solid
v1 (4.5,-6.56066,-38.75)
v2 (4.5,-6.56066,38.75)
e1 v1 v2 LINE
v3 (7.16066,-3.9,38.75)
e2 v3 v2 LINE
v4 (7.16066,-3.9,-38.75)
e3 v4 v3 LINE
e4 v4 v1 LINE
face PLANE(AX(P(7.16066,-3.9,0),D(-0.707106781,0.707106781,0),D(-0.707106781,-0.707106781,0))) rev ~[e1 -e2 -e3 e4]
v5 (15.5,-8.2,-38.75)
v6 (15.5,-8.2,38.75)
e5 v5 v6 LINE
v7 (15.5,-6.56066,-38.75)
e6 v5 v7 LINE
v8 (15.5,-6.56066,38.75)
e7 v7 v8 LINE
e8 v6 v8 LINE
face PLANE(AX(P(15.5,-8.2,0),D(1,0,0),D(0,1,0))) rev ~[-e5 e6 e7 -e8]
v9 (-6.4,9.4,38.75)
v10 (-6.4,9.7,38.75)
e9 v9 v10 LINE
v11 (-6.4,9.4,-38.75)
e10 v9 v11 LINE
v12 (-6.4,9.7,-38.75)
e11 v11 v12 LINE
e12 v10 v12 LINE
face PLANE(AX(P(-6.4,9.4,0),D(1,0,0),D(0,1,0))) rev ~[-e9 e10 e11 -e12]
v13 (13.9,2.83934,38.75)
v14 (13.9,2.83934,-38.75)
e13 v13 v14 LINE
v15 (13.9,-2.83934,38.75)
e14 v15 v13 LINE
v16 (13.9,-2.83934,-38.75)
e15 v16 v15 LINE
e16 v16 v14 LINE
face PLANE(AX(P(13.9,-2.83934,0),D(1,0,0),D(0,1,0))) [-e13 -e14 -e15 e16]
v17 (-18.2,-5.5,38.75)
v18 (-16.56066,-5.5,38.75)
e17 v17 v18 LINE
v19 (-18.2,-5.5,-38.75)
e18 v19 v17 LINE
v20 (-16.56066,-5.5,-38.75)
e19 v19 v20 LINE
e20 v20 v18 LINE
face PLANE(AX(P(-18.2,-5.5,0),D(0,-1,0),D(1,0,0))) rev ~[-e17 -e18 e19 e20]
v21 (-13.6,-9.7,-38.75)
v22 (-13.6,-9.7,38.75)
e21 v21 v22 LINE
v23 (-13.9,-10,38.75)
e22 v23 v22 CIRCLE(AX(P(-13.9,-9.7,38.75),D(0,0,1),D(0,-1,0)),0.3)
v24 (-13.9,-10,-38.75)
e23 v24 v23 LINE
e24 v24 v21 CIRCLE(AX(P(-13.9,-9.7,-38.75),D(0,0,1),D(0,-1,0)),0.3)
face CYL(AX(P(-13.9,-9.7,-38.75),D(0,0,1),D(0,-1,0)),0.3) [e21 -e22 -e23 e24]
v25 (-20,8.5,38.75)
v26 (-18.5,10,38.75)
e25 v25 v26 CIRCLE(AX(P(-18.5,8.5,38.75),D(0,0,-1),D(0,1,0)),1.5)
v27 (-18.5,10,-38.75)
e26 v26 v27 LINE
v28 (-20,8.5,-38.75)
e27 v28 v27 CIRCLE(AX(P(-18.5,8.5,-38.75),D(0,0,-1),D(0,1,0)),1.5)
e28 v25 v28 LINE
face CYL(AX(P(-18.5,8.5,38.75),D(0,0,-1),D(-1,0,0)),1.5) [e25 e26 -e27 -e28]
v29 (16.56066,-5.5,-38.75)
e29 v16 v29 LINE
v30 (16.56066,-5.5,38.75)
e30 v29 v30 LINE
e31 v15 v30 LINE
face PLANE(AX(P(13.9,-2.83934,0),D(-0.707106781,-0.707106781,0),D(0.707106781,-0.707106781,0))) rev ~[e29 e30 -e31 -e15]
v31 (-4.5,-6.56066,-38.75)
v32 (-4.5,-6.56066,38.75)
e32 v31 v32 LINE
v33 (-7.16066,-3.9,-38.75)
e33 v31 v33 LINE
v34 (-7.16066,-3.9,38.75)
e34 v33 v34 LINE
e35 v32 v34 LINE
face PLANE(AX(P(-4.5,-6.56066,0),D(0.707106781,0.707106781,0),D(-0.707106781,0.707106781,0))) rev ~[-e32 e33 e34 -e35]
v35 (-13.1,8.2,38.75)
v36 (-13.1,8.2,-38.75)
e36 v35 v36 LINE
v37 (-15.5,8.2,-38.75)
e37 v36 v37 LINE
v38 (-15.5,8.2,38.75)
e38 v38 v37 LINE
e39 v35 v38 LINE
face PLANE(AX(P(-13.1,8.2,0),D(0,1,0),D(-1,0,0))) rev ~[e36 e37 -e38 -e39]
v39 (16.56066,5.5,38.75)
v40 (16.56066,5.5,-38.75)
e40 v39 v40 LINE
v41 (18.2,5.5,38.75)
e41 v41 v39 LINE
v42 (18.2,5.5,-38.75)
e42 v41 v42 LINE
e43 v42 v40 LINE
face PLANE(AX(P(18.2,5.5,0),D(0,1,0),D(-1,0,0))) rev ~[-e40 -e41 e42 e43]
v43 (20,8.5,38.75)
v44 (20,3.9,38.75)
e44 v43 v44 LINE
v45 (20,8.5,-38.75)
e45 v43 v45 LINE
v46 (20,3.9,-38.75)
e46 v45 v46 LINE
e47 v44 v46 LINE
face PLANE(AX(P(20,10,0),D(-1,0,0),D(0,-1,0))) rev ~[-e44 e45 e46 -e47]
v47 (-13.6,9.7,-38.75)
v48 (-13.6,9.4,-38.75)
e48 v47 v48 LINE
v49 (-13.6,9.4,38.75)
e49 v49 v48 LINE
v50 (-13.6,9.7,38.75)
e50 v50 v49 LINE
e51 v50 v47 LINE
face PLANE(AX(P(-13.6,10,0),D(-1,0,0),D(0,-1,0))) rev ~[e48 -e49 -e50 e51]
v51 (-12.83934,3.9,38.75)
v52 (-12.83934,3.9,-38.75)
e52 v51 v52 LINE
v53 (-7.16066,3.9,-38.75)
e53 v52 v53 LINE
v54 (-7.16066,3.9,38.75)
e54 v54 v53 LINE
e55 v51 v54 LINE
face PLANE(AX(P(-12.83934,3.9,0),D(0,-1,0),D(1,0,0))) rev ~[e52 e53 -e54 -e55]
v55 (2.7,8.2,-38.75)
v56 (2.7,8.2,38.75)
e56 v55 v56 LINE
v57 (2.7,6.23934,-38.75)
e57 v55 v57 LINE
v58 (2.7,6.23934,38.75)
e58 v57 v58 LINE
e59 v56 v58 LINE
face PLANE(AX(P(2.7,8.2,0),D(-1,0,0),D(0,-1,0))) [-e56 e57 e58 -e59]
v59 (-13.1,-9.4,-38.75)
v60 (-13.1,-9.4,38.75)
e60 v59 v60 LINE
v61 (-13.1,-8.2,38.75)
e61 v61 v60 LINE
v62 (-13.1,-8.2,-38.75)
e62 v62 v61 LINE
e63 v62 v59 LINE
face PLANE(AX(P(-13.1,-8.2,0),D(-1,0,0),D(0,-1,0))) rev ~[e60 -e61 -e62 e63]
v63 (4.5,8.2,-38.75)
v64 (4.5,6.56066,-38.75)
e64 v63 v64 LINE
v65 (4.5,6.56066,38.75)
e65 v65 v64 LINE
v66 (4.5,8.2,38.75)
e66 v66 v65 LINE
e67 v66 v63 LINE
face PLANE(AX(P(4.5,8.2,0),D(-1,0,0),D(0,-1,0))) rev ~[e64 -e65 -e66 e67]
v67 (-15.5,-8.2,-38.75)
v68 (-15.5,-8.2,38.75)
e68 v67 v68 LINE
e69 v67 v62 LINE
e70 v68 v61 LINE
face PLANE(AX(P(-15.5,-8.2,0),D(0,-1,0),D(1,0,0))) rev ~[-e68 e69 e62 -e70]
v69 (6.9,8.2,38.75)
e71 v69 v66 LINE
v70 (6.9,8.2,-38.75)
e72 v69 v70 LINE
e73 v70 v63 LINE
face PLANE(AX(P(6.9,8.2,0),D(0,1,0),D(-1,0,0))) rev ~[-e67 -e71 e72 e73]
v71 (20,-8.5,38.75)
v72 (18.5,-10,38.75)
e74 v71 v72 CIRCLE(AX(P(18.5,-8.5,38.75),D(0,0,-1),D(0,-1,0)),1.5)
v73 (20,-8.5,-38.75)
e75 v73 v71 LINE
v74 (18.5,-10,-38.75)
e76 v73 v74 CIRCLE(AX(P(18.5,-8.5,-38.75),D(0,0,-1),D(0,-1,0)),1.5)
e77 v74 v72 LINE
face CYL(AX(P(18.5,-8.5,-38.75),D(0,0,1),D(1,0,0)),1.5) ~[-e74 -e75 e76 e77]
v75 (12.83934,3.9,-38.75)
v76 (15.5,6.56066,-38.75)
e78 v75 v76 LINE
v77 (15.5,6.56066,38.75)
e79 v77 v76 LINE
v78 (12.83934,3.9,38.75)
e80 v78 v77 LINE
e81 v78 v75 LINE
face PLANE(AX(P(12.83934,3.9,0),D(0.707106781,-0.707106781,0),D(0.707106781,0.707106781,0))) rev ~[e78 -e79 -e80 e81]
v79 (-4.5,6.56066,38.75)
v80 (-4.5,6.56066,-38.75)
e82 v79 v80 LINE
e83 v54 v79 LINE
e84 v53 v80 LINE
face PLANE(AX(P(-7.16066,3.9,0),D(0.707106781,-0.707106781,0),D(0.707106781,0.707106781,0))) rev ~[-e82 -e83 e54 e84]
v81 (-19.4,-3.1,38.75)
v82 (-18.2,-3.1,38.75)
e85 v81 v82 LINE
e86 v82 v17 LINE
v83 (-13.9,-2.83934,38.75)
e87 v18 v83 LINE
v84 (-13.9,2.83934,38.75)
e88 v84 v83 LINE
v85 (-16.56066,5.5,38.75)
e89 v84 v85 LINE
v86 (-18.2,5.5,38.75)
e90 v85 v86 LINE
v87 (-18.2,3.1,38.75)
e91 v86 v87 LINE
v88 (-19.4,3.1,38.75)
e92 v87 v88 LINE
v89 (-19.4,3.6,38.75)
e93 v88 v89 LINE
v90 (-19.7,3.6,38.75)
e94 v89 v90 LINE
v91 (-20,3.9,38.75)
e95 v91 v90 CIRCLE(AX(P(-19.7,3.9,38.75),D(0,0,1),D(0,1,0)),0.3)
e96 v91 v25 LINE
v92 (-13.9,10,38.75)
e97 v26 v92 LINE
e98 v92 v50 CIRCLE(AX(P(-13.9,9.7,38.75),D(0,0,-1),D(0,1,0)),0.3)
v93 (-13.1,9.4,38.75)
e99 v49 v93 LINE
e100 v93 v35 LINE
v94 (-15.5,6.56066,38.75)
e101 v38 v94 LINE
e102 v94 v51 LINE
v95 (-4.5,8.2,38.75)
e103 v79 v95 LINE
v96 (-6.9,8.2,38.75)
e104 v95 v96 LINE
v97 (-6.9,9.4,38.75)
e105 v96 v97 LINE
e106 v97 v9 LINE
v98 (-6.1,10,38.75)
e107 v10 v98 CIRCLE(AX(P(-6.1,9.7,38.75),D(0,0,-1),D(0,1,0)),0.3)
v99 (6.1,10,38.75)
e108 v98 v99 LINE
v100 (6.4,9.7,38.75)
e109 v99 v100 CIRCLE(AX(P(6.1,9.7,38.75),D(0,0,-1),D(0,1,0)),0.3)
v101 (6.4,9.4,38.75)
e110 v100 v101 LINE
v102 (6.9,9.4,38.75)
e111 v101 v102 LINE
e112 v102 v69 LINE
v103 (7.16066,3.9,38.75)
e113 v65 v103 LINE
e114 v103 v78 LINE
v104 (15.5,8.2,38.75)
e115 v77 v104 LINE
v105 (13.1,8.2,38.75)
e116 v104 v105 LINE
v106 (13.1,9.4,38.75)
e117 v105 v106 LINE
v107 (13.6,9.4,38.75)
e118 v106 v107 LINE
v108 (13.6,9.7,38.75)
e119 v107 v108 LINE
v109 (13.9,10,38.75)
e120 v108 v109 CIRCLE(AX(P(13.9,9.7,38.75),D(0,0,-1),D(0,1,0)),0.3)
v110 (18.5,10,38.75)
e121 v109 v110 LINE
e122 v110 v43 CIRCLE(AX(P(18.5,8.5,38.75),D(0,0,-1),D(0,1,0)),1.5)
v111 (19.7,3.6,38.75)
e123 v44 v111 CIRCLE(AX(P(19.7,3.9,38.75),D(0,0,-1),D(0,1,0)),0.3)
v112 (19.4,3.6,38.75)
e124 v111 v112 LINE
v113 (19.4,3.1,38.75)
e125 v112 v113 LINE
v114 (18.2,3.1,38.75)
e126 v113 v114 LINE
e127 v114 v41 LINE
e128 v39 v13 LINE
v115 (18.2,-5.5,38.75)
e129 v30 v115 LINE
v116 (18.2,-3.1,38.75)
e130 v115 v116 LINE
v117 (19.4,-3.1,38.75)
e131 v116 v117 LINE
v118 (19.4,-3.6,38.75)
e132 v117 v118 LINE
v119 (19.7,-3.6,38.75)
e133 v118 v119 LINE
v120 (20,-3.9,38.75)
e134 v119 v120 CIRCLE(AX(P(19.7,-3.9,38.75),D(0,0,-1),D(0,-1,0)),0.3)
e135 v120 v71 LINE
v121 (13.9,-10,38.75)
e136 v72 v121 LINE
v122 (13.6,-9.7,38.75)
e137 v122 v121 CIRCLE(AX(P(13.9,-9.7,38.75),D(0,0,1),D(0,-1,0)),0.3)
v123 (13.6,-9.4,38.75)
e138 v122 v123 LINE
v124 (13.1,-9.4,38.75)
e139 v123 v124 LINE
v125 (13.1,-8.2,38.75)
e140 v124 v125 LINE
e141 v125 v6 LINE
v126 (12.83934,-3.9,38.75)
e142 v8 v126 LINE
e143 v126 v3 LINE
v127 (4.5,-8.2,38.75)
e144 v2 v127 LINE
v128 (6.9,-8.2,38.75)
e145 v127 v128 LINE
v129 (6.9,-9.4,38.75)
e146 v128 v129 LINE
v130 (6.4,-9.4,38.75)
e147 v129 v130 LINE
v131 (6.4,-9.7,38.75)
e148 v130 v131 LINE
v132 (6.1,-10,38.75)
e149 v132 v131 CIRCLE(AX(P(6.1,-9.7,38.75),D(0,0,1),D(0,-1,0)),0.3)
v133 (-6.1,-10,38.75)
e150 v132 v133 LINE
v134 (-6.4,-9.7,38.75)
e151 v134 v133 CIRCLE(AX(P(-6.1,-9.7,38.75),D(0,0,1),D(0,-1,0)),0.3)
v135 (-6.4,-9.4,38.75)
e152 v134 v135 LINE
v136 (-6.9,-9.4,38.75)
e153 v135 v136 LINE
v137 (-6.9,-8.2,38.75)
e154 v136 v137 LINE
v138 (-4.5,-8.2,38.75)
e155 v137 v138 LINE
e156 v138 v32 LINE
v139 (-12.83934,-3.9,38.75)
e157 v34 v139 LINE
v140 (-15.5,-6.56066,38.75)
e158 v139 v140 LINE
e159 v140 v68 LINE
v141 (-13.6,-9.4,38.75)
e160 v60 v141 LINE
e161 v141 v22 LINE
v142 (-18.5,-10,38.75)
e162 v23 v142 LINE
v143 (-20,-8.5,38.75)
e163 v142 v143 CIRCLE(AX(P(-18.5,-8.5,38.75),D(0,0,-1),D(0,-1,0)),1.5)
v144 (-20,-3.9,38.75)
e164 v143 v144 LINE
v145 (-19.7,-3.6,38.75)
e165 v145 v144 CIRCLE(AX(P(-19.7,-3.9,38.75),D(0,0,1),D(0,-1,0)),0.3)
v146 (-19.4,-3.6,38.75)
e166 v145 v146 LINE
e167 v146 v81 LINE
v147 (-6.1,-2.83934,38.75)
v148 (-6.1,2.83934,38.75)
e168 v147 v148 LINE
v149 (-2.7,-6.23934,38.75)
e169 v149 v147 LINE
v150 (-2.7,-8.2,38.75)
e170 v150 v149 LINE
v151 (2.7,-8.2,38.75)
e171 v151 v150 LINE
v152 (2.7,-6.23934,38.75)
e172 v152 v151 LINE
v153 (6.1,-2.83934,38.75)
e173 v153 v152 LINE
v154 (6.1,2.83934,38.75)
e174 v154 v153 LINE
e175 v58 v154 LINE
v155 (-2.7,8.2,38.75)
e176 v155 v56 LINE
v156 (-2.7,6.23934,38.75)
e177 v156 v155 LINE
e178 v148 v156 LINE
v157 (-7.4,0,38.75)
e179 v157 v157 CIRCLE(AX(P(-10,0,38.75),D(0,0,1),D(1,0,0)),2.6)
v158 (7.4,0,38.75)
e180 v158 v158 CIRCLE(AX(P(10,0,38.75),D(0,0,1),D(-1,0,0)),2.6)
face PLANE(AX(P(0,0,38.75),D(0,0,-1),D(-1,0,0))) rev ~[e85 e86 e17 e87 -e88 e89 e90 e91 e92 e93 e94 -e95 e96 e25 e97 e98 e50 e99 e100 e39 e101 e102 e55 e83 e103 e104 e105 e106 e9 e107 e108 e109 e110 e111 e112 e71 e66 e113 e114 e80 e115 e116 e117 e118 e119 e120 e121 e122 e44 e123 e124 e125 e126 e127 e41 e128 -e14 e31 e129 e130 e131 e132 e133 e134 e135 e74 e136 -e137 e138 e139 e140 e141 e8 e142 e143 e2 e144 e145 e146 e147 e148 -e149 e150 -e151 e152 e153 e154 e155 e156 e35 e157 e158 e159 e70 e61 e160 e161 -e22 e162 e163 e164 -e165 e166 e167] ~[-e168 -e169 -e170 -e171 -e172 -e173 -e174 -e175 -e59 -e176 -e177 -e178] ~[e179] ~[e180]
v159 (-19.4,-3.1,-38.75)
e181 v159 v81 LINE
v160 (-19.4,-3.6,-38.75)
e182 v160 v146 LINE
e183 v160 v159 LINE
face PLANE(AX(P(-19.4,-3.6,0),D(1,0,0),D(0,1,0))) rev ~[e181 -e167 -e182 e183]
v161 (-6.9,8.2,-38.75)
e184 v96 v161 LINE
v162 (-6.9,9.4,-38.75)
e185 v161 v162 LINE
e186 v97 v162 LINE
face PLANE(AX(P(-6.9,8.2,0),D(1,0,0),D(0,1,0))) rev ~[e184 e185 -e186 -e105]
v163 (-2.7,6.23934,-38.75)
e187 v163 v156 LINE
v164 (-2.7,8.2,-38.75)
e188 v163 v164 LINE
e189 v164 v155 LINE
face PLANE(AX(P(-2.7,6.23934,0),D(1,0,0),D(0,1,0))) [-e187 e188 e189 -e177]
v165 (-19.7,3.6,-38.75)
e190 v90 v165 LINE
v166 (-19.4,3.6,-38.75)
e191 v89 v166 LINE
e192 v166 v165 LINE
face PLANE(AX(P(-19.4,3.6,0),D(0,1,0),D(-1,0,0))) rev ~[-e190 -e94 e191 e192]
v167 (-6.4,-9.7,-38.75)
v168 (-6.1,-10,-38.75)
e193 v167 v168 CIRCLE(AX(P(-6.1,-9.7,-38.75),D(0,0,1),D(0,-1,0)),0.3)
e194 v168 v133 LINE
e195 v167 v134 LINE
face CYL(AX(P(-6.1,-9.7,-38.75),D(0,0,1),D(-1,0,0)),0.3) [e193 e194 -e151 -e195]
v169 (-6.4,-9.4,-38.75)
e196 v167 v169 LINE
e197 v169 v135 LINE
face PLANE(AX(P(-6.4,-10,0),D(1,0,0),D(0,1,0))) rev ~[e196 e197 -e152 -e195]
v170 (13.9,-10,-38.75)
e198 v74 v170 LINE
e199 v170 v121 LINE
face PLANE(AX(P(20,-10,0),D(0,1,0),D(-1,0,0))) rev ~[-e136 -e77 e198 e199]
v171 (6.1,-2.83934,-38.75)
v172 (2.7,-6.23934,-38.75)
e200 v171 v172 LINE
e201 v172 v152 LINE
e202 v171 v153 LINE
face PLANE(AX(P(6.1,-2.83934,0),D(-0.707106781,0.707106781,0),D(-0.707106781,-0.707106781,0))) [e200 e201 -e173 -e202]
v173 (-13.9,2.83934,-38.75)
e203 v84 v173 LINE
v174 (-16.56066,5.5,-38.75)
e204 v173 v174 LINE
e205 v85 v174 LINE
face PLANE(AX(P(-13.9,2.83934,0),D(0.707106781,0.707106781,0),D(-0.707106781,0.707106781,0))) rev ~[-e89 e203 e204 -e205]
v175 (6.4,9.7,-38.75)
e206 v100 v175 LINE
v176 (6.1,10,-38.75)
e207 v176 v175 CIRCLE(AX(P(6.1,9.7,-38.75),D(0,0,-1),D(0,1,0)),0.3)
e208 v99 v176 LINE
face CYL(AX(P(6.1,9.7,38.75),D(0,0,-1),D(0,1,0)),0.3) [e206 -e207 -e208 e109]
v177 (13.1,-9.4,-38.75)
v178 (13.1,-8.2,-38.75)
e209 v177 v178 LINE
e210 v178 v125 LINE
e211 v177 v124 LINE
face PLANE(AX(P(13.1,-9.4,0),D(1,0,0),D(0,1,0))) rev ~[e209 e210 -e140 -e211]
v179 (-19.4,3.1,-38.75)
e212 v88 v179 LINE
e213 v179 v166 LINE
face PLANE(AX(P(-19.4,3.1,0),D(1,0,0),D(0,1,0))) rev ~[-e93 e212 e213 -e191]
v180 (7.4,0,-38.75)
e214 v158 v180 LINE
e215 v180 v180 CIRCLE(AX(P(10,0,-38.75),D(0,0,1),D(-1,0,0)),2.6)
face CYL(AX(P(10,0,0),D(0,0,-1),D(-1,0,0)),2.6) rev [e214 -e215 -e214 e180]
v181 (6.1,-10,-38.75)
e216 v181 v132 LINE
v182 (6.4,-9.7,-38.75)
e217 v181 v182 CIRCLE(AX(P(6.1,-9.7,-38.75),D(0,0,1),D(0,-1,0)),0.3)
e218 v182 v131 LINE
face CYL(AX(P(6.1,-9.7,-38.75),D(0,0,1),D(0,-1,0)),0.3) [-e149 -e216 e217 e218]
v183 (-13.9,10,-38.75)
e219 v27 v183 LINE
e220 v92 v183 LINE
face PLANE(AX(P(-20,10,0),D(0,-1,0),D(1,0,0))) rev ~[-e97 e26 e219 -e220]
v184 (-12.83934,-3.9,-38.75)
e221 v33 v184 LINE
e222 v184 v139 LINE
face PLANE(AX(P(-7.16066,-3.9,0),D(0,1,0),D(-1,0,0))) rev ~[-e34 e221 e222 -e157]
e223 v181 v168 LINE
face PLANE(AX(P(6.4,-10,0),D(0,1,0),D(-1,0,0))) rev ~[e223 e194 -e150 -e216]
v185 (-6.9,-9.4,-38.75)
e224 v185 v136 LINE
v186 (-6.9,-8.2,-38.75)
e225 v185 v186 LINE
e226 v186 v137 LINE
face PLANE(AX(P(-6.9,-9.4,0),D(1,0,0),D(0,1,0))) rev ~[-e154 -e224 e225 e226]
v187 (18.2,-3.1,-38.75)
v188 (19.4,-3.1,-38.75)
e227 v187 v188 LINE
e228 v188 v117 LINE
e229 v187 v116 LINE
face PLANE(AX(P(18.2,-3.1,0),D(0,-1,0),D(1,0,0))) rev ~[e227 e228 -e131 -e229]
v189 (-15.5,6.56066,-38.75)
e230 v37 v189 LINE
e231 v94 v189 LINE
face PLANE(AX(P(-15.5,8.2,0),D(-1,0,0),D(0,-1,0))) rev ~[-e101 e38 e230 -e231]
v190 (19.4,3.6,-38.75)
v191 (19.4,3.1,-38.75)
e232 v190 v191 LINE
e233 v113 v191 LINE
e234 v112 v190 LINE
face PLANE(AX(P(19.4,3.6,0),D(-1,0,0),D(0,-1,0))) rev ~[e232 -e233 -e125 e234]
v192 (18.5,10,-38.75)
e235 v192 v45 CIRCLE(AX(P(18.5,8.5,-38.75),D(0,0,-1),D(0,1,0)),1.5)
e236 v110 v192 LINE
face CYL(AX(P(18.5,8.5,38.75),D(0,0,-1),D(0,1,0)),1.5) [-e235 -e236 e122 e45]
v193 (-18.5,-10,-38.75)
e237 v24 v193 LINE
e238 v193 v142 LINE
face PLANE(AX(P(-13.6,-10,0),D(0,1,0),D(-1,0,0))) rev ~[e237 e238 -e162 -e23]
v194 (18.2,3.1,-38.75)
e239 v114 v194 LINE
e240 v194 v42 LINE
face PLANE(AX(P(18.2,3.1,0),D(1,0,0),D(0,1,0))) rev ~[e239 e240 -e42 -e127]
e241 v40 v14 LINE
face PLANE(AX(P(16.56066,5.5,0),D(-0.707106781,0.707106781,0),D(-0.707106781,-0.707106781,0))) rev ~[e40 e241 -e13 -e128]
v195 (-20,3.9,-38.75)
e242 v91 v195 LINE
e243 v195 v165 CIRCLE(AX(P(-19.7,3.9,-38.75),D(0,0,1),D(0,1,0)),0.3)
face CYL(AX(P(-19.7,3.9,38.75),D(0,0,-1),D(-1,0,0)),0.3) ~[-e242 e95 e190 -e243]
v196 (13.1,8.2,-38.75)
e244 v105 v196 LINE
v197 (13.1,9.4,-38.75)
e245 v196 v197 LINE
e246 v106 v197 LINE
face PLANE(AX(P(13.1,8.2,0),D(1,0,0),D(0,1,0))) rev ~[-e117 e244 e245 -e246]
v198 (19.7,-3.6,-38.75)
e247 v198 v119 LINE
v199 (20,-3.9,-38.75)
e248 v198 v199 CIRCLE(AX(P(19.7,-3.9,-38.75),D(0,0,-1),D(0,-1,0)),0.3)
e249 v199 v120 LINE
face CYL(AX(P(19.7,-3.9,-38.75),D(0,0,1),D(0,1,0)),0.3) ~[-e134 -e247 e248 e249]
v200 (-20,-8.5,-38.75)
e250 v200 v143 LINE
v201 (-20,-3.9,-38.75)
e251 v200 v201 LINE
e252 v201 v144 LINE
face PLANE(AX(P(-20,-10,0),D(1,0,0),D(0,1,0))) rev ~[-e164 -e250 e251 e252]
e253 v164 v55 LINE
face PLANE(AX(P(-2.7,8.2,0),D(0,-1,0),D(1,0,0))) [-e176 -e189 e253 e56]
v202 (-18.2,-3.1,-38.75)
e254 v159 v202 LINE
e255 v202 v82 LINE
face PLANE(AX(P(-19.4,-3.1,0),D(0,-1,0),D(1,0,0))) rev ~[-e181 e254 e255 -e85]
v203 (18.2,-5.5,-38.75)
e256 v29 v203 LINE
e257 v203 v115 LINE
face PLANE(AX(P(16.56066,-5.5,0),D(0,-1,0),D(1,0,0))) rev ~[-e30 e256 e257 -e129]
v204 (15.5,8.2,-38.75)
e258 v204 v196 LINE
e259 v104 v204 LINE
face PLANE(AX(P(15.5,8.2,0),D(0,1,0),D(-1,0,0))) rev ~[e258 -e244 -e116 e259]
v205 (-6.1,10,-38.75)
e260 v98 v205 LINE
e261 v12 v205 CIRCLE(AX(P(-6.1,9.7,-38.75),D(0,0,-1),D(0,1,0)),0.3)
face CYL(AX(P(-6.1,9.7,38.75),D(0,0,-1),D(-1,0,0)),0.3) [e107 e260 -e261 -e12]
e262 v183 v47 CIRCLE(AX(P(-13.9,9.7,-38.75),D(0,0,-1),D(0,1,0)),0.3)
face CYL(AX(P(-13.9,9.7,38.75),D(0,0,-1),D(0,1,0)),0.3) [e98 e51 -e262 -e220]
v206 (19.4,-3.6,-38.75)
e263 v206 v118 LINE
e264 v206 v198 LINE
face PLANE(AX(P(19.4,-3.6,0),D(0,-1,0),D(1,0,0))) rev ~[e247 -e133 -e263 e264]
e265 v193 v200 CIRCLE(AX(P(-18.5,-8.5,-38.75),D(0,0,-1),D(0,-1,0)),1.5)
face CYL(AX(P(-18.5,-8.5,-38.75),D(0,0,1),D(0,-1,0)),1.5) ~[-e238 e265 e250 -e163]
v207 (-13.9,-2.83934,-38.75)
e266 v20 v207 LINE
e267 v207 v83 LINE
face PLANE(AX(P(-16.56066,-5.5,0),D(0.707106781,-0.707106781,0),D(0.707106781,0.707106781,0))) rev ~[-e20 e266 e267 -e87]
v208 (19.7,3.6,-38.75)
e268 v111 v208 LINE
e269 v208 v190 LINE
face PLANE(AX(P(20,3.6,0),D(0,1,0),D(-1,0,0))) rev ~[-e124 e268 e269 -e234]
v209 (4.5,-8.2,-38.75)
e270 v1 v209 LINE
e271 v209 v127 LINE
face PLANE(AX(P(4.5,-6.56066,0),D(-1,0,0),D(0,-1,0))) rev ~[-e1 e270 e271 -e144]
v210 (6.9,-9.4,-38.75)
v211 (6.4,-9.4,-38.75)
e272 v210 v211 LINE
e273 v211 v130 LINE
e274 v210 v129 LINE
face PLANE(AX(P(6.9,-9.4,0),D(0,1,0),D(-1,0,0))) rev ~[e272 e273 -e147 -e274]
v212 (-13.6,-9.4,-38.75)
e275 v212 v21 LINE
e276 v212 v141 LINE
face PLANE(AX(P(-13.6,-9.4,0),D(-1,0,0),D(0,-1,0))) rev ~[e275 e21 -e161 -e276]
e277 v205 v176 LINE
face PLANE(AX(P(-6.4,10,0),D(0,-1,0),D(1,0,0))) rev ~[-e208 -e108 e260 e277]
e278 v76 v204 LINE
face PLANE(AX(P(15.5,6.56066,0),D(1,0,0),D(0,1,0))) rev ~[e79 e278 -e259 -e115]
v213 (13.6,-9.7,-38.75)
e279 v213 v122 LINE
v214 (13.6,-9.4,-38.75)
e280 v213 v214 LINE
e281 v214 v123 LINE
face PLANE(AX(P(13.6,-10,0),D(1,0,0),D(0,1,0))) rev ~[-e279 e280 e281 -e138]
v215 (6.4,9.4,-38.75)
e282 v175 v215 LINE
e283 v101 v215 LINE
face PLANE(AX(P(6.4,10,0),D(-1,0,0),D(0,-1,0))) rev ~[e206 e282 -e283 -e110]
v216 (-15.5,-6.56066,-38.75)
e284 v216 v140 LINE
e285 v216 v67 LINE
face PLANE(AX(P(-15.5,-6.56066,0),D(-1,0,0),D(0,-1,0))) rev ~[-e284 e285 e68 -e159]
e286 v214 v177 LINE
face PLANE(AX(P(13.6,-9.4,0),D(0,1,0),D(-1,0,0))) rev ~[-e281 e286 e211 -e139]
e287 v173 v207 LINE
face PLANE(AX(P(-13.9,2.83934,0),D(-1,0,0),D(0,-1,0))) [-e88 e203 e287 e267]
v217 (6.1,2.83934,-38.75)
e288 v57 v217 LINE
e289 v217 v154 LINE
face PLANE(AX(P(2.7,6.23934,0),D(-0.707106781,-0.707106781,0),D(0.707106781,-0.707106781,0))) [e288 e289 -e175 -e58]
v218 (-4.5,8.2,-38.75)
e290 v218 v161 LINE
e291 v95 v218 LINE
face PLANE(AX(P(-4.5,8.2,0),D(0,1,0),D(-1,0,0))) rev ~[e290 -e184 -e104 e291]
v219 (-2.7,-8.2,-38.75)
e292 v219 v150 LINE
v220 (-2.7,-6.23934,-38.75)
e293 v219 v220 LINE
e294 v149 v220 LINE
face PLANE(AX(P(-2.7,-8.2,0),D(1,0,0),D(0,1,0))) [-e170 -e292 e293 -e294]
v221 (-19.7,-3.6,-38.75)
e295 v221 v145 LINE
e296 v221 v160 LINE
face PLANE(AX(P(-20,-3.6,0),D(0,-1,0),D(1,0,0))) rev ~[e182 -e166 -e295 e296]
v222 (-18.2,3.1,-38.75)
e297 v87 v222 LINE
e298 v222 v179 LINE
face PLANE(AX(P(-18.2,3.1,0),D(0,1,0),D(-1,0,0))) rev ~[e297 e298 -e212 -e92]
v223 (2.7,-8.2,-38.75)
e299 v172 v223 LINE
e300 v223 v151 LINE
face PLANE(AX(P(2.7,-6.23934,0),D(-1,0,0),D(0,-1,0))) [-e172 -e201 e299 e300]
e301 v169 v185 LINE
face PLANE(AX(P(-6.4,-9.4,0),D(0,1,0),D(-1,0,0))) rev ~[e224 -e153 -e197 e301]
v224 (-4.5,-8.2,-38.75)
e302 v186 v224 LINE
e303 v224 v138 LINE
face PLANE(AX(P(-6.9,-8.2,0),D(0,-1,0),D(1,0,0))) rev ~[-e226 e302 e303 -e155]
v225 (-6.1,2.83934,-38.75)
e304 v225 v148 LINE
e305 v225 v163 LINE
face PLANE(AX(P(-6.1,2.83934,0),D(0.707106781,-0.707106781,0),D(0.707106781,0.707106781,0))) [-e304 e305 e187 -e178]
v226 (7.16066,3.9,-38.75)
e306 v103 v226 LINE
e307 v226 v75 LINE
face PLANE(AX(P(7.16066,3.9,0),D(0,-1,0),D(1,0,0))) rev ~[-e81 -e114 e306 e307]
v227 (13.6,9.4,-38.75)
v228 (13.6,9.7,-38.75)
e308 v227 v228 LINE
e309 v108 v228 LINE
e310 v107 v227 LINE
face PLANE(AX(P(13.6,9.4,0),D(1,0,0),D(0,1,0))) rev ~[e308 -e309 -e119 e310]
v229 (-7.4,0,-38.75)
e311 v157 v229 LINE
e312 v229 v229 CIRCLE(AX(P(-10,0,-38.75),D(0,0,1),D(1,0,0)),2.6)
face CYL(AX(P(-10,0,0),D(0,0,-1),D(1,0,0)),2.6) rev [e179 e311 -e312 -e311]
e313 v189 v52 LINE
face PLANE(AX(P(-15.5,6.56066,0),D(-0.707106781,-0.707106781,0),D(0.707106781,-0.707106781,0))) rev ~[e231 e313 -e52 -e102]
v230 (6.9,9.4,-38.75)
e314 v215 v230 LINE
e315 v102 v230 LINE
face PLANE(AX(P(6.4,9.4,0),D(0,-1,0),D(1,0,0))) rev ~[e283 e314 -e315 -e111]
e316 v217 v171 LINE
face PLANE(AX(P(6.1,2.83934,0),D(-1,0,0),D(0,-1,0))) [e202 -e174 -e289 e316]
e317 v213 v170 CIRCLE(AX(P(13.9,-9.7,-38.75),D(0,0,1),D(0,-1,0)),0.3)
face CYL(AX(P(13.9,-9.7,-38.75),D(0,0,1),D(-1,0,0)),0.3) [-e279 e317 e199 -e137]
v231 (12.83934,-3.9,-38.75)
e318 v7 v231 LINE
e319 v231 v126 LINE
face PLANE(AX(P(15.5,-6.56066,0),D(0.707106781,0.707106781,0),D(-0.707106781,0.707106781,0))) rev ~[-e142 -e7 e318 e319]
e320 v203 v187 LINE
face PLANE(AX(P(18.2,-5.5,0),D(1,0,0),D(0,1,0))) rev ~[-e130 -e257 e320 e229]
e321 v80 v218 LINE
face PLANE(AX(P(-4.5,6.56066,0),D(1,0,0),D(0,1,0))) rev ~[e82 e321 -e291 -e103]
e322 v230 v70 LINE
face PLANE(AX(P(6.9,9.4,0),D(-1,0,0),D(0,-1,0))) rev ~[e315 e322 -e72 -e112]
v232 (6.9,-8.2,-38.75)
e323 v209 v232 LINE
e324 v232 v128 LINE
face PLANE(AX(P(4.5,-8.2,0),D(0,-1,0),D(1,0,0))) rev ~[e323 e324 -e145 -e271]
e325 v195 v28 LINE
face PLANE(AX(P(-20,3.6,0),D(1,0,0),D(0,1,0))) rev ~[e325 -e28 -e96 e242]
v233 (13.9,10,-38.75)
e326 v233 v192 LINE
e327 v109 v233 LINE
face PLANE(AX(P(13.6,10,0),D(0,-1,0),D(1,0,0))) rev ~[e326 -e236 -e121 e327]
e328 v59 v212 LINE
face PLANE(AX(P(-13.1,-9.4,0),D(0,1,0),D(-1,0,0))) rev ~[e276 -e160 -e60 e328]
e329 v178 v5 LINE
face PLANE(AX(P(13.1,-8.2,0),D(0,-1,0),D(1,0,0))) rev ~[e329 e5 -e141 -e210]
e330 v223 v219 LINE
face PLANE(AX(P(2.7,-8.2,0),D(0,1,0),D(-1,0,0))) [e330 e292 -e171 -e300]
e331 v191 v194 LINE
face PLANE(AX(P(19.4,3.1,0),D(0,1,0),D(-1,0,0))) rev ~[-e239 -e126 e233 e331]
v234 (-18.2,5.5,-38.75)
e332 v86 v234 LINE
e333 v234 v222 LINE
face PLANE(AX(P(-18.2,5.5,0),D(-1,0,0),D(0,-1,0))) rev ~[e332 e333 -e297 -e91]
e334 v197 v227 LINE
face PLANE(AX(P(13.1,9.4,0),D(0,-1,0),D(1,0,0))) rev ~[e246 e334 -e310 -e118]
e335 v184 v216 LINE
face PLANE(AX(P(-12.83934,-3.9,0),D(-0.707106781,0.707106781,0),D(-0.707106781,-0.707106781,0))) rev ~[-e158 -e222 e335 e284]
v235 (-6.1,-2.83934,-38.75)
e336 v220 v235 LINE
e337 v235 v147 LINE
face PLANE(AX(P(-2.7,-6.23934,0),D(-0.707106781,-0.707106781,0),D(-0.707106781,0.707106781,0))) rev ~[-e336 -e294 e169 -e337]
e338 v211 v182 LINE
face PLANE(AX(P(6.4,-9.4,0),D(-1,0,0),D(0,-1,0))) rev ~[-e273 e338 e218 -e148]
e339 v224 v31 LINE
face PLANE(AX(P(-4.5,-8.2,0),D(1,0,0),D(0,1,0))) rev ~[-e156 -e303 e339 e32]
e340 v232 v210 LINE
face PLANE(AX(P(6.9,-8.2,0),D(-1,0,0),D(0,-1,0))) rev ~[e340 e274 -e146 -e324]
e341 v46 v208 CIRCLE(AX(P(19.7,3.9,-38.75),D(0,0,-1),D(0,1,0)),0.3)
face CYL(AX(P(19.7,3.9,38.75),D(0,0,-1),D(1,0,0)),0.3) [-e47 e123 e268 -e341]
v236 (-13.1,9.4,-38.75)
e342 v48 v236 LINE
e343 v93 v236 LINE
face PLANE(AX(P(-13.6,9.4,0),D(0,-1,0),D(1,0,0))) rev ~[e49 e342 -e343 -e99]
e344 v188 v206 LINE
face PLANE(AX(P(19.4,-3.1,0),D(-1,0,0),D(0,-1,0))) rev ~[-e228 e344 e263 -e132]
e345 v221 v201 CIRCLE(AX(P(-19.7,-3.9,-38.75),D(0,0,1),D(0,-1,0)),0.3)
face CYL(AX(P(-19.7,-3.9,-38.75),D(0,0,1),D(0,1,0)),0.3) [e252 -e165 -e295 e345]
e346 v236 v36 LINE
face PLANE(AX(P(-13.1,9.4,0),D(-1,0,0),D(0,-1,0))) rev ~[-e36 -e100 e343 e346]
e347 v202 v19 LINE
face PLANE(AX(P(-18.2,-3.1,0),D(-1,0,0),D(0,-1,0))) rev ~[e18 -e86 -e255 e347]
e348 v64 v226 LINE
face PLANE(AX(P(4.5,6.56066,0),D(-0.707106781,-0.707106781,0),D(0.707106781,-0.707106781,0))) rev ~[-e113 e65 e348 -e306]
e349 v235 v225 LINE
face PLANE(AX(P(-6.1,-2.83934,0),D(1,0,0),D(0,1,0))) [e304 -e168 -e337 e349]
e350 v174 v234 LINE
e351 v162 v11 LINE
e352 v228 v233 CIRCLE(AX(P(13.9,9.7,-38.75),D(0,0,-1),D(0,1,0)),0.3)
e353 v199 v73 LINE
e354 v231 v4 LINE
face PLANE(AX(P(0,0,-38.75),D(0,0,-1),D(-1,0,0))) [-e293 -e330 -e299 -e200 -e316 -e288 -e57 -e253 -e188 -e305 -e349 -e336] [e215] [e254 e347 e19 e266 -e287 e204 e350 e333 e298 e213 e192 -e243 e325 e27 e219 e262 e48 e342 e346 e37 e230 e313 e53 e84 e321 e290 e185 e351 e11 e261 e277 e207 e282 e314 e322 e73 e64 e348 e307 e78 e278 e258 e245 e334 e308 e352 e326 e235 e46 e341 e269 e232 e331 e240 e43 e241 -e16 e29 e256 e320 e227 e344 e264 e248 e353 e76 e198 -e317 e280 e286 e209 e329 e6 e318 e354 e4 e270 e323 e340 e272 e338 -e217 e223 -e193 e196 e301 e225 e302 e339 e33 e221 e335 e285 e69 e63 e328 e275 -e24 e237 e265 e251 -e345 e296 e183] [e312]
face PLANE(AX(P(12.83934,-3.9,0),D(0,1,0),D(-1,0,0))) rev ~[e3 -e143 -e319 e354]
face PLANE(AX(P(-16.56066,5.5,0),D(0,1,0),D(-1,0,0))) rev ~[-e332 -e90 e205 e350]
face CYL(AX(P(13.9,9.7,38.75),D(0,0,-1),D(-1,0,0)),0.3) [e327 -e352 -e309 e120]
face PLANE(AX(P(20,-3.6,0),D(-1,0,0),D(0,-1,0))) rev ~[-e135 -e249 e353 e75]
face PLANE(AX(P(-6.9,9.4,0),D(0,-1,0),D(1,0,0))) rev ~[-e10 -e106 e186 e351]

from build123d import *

# Parameters (mm, degrees)
SKETCH_1_R      = 2.6
EXTRUDE_1_DEPTH = 38.75
FILLET_1_R      = 1.5
FILLET_2_R      = 0.3


with BuildPart() as part:
    # 草图1 → 凸台-拉伸1 (new, symmetric)
    with BuildSketch(Plane.XY):
        Polygon((-13.9, 0), (-13.9, 2.839339828), (-16.560660172, 5.5), (-18.2, 5.5), (-18.2, 3.1), (-19.4, 3.1), (-19.4, 3.6), (-20, 3.6), (-20, 10), (-13.6, 10), (-13.6, 9.4), (-13.1, 9.4), (-13.1, 8.2), (-15.5, 8.2), (-15.5, 6.560660172), (-12.839339828, 3.9), (-7.160660172, 3.9), (-4.5, 6.560660172), (-4.5, 8.2), (-6.9, 8.2), (-6.9, 9.4), (-6.4, 9.4), (-6.4, 10), (6.4, 10), (6.4, 9.4), (6.9, 9.4), (6.9, 8.2), (4.5, 8.2), (4.5, 6.560660172), (7.160660172, 3.9), (12.839339828, 3.9), (15.5, 6.560660172), (15.5, 8.2), (13.1, 8.2), (13.1, 9.4), (13.6, 9.4), (13.6, 10), (20, 10), (20, 3.6), (19.4, 3.6), (19.4, 3.1), (18.2, 3.1), (18.2, 5.5), (16.560660172, 5.5), (13.9, 2.839339828), (13.9, 0), (13.9, -2.839339828), (16.560660172, -5.5), (18.2, -5.5), (18.2, -3.1), (19.4, -3.1), (19.4, -3.6), (20, -3.6), (20, -10), (13.6, -10), (13.6, -9.4), (13.1, -9.4), (13.1, -8.2), (15.5, -8.2), (15.5, -6.560660172), (12.839339828, -3.9), (7.160660172, -3.9), (4.5, -6.560660172), (4.5, -8.2), (6.9, -8.2), (6.9, -9.4), (6.4, -9.4), (6.4, -10), (-6.4, -10), (-6.4, -9.4), (-6.9, -9.4), (-6.9, -8.2), (-4.5, -8.2), (-4.5, -6.560660172), (-7.160660172, -3.9), (-12.839339828, -3.9), (-15.5, -6.560660172), (-15.5, -8.2), (-13.1, -8.2), (-13.1, -9.4), (-13.6, -9.4), (-13.6, -10), (-20, -10), (-20, -3.6), (-19.4, -3.6), (-19.4, -3.1), (-18.2, -3.1), (-18.2, -5.5), (-16.560660172, -5.5), (-13.9, -2.839339828), align=None)
        with Locations((-10, 0)):
            Circle(SKETCH_1_R, mode=Mode.SUBTRACT)
        with Locations(Location((10, 0, 0), (0, 0, 180))):
            Circle(SKETCH_1_R, mode=Mode.SUBTRACT)
        Polygon((-6.1, -2.839339828), (-6.1, 2.839339828), (-2.7, 6.239339828), (-2.7, 8.2), (2.7, 8.2), (2.7, 6.239339828), (6.1, 2.839339828), (6.1, -2.839339828), (2.7, -6.239339828), (2.7, -8.2), (-2.7, -8.2), (-2.7, -6.239339828), align=None, mode=Mode.SUBTRACT)
    extrude(amount=EXTRUDE_1_DEPTH, both=True)

    # 圆角1
    fillet_1_edges = [part.edges().sort_by_distance(p)[0] for p in [
        (-20, 10, 0),
        (20, 10, 0),
        (20, -10, 0),
        (-20, -10, 0),
    ]]
    fillet(fillet_1_edges, radius=FILLET_1_R)

    # 圆角2
    fillet_2_edges = [part.edges().sort_by_distance(p)[0] for p in [
        (-20, 3.6, 0),
        (-13.6, 10, 0),
        (-6.4, 10, 0),
        (6.4, 10, 0),
        (13.6, 10, 0),
        (20, 3.6, 0),
        (20, -3.6, 0),
        (13.6, -10, 0),
        (6.4, -10, 0),
        (-6.4, -10, 0),
        (-13.6, -10, 0),
        (-20, -3.6, 0),
    ]]
    fillet(fillet_2_edges, radius=FILLET_2_R)


solid = part.part
